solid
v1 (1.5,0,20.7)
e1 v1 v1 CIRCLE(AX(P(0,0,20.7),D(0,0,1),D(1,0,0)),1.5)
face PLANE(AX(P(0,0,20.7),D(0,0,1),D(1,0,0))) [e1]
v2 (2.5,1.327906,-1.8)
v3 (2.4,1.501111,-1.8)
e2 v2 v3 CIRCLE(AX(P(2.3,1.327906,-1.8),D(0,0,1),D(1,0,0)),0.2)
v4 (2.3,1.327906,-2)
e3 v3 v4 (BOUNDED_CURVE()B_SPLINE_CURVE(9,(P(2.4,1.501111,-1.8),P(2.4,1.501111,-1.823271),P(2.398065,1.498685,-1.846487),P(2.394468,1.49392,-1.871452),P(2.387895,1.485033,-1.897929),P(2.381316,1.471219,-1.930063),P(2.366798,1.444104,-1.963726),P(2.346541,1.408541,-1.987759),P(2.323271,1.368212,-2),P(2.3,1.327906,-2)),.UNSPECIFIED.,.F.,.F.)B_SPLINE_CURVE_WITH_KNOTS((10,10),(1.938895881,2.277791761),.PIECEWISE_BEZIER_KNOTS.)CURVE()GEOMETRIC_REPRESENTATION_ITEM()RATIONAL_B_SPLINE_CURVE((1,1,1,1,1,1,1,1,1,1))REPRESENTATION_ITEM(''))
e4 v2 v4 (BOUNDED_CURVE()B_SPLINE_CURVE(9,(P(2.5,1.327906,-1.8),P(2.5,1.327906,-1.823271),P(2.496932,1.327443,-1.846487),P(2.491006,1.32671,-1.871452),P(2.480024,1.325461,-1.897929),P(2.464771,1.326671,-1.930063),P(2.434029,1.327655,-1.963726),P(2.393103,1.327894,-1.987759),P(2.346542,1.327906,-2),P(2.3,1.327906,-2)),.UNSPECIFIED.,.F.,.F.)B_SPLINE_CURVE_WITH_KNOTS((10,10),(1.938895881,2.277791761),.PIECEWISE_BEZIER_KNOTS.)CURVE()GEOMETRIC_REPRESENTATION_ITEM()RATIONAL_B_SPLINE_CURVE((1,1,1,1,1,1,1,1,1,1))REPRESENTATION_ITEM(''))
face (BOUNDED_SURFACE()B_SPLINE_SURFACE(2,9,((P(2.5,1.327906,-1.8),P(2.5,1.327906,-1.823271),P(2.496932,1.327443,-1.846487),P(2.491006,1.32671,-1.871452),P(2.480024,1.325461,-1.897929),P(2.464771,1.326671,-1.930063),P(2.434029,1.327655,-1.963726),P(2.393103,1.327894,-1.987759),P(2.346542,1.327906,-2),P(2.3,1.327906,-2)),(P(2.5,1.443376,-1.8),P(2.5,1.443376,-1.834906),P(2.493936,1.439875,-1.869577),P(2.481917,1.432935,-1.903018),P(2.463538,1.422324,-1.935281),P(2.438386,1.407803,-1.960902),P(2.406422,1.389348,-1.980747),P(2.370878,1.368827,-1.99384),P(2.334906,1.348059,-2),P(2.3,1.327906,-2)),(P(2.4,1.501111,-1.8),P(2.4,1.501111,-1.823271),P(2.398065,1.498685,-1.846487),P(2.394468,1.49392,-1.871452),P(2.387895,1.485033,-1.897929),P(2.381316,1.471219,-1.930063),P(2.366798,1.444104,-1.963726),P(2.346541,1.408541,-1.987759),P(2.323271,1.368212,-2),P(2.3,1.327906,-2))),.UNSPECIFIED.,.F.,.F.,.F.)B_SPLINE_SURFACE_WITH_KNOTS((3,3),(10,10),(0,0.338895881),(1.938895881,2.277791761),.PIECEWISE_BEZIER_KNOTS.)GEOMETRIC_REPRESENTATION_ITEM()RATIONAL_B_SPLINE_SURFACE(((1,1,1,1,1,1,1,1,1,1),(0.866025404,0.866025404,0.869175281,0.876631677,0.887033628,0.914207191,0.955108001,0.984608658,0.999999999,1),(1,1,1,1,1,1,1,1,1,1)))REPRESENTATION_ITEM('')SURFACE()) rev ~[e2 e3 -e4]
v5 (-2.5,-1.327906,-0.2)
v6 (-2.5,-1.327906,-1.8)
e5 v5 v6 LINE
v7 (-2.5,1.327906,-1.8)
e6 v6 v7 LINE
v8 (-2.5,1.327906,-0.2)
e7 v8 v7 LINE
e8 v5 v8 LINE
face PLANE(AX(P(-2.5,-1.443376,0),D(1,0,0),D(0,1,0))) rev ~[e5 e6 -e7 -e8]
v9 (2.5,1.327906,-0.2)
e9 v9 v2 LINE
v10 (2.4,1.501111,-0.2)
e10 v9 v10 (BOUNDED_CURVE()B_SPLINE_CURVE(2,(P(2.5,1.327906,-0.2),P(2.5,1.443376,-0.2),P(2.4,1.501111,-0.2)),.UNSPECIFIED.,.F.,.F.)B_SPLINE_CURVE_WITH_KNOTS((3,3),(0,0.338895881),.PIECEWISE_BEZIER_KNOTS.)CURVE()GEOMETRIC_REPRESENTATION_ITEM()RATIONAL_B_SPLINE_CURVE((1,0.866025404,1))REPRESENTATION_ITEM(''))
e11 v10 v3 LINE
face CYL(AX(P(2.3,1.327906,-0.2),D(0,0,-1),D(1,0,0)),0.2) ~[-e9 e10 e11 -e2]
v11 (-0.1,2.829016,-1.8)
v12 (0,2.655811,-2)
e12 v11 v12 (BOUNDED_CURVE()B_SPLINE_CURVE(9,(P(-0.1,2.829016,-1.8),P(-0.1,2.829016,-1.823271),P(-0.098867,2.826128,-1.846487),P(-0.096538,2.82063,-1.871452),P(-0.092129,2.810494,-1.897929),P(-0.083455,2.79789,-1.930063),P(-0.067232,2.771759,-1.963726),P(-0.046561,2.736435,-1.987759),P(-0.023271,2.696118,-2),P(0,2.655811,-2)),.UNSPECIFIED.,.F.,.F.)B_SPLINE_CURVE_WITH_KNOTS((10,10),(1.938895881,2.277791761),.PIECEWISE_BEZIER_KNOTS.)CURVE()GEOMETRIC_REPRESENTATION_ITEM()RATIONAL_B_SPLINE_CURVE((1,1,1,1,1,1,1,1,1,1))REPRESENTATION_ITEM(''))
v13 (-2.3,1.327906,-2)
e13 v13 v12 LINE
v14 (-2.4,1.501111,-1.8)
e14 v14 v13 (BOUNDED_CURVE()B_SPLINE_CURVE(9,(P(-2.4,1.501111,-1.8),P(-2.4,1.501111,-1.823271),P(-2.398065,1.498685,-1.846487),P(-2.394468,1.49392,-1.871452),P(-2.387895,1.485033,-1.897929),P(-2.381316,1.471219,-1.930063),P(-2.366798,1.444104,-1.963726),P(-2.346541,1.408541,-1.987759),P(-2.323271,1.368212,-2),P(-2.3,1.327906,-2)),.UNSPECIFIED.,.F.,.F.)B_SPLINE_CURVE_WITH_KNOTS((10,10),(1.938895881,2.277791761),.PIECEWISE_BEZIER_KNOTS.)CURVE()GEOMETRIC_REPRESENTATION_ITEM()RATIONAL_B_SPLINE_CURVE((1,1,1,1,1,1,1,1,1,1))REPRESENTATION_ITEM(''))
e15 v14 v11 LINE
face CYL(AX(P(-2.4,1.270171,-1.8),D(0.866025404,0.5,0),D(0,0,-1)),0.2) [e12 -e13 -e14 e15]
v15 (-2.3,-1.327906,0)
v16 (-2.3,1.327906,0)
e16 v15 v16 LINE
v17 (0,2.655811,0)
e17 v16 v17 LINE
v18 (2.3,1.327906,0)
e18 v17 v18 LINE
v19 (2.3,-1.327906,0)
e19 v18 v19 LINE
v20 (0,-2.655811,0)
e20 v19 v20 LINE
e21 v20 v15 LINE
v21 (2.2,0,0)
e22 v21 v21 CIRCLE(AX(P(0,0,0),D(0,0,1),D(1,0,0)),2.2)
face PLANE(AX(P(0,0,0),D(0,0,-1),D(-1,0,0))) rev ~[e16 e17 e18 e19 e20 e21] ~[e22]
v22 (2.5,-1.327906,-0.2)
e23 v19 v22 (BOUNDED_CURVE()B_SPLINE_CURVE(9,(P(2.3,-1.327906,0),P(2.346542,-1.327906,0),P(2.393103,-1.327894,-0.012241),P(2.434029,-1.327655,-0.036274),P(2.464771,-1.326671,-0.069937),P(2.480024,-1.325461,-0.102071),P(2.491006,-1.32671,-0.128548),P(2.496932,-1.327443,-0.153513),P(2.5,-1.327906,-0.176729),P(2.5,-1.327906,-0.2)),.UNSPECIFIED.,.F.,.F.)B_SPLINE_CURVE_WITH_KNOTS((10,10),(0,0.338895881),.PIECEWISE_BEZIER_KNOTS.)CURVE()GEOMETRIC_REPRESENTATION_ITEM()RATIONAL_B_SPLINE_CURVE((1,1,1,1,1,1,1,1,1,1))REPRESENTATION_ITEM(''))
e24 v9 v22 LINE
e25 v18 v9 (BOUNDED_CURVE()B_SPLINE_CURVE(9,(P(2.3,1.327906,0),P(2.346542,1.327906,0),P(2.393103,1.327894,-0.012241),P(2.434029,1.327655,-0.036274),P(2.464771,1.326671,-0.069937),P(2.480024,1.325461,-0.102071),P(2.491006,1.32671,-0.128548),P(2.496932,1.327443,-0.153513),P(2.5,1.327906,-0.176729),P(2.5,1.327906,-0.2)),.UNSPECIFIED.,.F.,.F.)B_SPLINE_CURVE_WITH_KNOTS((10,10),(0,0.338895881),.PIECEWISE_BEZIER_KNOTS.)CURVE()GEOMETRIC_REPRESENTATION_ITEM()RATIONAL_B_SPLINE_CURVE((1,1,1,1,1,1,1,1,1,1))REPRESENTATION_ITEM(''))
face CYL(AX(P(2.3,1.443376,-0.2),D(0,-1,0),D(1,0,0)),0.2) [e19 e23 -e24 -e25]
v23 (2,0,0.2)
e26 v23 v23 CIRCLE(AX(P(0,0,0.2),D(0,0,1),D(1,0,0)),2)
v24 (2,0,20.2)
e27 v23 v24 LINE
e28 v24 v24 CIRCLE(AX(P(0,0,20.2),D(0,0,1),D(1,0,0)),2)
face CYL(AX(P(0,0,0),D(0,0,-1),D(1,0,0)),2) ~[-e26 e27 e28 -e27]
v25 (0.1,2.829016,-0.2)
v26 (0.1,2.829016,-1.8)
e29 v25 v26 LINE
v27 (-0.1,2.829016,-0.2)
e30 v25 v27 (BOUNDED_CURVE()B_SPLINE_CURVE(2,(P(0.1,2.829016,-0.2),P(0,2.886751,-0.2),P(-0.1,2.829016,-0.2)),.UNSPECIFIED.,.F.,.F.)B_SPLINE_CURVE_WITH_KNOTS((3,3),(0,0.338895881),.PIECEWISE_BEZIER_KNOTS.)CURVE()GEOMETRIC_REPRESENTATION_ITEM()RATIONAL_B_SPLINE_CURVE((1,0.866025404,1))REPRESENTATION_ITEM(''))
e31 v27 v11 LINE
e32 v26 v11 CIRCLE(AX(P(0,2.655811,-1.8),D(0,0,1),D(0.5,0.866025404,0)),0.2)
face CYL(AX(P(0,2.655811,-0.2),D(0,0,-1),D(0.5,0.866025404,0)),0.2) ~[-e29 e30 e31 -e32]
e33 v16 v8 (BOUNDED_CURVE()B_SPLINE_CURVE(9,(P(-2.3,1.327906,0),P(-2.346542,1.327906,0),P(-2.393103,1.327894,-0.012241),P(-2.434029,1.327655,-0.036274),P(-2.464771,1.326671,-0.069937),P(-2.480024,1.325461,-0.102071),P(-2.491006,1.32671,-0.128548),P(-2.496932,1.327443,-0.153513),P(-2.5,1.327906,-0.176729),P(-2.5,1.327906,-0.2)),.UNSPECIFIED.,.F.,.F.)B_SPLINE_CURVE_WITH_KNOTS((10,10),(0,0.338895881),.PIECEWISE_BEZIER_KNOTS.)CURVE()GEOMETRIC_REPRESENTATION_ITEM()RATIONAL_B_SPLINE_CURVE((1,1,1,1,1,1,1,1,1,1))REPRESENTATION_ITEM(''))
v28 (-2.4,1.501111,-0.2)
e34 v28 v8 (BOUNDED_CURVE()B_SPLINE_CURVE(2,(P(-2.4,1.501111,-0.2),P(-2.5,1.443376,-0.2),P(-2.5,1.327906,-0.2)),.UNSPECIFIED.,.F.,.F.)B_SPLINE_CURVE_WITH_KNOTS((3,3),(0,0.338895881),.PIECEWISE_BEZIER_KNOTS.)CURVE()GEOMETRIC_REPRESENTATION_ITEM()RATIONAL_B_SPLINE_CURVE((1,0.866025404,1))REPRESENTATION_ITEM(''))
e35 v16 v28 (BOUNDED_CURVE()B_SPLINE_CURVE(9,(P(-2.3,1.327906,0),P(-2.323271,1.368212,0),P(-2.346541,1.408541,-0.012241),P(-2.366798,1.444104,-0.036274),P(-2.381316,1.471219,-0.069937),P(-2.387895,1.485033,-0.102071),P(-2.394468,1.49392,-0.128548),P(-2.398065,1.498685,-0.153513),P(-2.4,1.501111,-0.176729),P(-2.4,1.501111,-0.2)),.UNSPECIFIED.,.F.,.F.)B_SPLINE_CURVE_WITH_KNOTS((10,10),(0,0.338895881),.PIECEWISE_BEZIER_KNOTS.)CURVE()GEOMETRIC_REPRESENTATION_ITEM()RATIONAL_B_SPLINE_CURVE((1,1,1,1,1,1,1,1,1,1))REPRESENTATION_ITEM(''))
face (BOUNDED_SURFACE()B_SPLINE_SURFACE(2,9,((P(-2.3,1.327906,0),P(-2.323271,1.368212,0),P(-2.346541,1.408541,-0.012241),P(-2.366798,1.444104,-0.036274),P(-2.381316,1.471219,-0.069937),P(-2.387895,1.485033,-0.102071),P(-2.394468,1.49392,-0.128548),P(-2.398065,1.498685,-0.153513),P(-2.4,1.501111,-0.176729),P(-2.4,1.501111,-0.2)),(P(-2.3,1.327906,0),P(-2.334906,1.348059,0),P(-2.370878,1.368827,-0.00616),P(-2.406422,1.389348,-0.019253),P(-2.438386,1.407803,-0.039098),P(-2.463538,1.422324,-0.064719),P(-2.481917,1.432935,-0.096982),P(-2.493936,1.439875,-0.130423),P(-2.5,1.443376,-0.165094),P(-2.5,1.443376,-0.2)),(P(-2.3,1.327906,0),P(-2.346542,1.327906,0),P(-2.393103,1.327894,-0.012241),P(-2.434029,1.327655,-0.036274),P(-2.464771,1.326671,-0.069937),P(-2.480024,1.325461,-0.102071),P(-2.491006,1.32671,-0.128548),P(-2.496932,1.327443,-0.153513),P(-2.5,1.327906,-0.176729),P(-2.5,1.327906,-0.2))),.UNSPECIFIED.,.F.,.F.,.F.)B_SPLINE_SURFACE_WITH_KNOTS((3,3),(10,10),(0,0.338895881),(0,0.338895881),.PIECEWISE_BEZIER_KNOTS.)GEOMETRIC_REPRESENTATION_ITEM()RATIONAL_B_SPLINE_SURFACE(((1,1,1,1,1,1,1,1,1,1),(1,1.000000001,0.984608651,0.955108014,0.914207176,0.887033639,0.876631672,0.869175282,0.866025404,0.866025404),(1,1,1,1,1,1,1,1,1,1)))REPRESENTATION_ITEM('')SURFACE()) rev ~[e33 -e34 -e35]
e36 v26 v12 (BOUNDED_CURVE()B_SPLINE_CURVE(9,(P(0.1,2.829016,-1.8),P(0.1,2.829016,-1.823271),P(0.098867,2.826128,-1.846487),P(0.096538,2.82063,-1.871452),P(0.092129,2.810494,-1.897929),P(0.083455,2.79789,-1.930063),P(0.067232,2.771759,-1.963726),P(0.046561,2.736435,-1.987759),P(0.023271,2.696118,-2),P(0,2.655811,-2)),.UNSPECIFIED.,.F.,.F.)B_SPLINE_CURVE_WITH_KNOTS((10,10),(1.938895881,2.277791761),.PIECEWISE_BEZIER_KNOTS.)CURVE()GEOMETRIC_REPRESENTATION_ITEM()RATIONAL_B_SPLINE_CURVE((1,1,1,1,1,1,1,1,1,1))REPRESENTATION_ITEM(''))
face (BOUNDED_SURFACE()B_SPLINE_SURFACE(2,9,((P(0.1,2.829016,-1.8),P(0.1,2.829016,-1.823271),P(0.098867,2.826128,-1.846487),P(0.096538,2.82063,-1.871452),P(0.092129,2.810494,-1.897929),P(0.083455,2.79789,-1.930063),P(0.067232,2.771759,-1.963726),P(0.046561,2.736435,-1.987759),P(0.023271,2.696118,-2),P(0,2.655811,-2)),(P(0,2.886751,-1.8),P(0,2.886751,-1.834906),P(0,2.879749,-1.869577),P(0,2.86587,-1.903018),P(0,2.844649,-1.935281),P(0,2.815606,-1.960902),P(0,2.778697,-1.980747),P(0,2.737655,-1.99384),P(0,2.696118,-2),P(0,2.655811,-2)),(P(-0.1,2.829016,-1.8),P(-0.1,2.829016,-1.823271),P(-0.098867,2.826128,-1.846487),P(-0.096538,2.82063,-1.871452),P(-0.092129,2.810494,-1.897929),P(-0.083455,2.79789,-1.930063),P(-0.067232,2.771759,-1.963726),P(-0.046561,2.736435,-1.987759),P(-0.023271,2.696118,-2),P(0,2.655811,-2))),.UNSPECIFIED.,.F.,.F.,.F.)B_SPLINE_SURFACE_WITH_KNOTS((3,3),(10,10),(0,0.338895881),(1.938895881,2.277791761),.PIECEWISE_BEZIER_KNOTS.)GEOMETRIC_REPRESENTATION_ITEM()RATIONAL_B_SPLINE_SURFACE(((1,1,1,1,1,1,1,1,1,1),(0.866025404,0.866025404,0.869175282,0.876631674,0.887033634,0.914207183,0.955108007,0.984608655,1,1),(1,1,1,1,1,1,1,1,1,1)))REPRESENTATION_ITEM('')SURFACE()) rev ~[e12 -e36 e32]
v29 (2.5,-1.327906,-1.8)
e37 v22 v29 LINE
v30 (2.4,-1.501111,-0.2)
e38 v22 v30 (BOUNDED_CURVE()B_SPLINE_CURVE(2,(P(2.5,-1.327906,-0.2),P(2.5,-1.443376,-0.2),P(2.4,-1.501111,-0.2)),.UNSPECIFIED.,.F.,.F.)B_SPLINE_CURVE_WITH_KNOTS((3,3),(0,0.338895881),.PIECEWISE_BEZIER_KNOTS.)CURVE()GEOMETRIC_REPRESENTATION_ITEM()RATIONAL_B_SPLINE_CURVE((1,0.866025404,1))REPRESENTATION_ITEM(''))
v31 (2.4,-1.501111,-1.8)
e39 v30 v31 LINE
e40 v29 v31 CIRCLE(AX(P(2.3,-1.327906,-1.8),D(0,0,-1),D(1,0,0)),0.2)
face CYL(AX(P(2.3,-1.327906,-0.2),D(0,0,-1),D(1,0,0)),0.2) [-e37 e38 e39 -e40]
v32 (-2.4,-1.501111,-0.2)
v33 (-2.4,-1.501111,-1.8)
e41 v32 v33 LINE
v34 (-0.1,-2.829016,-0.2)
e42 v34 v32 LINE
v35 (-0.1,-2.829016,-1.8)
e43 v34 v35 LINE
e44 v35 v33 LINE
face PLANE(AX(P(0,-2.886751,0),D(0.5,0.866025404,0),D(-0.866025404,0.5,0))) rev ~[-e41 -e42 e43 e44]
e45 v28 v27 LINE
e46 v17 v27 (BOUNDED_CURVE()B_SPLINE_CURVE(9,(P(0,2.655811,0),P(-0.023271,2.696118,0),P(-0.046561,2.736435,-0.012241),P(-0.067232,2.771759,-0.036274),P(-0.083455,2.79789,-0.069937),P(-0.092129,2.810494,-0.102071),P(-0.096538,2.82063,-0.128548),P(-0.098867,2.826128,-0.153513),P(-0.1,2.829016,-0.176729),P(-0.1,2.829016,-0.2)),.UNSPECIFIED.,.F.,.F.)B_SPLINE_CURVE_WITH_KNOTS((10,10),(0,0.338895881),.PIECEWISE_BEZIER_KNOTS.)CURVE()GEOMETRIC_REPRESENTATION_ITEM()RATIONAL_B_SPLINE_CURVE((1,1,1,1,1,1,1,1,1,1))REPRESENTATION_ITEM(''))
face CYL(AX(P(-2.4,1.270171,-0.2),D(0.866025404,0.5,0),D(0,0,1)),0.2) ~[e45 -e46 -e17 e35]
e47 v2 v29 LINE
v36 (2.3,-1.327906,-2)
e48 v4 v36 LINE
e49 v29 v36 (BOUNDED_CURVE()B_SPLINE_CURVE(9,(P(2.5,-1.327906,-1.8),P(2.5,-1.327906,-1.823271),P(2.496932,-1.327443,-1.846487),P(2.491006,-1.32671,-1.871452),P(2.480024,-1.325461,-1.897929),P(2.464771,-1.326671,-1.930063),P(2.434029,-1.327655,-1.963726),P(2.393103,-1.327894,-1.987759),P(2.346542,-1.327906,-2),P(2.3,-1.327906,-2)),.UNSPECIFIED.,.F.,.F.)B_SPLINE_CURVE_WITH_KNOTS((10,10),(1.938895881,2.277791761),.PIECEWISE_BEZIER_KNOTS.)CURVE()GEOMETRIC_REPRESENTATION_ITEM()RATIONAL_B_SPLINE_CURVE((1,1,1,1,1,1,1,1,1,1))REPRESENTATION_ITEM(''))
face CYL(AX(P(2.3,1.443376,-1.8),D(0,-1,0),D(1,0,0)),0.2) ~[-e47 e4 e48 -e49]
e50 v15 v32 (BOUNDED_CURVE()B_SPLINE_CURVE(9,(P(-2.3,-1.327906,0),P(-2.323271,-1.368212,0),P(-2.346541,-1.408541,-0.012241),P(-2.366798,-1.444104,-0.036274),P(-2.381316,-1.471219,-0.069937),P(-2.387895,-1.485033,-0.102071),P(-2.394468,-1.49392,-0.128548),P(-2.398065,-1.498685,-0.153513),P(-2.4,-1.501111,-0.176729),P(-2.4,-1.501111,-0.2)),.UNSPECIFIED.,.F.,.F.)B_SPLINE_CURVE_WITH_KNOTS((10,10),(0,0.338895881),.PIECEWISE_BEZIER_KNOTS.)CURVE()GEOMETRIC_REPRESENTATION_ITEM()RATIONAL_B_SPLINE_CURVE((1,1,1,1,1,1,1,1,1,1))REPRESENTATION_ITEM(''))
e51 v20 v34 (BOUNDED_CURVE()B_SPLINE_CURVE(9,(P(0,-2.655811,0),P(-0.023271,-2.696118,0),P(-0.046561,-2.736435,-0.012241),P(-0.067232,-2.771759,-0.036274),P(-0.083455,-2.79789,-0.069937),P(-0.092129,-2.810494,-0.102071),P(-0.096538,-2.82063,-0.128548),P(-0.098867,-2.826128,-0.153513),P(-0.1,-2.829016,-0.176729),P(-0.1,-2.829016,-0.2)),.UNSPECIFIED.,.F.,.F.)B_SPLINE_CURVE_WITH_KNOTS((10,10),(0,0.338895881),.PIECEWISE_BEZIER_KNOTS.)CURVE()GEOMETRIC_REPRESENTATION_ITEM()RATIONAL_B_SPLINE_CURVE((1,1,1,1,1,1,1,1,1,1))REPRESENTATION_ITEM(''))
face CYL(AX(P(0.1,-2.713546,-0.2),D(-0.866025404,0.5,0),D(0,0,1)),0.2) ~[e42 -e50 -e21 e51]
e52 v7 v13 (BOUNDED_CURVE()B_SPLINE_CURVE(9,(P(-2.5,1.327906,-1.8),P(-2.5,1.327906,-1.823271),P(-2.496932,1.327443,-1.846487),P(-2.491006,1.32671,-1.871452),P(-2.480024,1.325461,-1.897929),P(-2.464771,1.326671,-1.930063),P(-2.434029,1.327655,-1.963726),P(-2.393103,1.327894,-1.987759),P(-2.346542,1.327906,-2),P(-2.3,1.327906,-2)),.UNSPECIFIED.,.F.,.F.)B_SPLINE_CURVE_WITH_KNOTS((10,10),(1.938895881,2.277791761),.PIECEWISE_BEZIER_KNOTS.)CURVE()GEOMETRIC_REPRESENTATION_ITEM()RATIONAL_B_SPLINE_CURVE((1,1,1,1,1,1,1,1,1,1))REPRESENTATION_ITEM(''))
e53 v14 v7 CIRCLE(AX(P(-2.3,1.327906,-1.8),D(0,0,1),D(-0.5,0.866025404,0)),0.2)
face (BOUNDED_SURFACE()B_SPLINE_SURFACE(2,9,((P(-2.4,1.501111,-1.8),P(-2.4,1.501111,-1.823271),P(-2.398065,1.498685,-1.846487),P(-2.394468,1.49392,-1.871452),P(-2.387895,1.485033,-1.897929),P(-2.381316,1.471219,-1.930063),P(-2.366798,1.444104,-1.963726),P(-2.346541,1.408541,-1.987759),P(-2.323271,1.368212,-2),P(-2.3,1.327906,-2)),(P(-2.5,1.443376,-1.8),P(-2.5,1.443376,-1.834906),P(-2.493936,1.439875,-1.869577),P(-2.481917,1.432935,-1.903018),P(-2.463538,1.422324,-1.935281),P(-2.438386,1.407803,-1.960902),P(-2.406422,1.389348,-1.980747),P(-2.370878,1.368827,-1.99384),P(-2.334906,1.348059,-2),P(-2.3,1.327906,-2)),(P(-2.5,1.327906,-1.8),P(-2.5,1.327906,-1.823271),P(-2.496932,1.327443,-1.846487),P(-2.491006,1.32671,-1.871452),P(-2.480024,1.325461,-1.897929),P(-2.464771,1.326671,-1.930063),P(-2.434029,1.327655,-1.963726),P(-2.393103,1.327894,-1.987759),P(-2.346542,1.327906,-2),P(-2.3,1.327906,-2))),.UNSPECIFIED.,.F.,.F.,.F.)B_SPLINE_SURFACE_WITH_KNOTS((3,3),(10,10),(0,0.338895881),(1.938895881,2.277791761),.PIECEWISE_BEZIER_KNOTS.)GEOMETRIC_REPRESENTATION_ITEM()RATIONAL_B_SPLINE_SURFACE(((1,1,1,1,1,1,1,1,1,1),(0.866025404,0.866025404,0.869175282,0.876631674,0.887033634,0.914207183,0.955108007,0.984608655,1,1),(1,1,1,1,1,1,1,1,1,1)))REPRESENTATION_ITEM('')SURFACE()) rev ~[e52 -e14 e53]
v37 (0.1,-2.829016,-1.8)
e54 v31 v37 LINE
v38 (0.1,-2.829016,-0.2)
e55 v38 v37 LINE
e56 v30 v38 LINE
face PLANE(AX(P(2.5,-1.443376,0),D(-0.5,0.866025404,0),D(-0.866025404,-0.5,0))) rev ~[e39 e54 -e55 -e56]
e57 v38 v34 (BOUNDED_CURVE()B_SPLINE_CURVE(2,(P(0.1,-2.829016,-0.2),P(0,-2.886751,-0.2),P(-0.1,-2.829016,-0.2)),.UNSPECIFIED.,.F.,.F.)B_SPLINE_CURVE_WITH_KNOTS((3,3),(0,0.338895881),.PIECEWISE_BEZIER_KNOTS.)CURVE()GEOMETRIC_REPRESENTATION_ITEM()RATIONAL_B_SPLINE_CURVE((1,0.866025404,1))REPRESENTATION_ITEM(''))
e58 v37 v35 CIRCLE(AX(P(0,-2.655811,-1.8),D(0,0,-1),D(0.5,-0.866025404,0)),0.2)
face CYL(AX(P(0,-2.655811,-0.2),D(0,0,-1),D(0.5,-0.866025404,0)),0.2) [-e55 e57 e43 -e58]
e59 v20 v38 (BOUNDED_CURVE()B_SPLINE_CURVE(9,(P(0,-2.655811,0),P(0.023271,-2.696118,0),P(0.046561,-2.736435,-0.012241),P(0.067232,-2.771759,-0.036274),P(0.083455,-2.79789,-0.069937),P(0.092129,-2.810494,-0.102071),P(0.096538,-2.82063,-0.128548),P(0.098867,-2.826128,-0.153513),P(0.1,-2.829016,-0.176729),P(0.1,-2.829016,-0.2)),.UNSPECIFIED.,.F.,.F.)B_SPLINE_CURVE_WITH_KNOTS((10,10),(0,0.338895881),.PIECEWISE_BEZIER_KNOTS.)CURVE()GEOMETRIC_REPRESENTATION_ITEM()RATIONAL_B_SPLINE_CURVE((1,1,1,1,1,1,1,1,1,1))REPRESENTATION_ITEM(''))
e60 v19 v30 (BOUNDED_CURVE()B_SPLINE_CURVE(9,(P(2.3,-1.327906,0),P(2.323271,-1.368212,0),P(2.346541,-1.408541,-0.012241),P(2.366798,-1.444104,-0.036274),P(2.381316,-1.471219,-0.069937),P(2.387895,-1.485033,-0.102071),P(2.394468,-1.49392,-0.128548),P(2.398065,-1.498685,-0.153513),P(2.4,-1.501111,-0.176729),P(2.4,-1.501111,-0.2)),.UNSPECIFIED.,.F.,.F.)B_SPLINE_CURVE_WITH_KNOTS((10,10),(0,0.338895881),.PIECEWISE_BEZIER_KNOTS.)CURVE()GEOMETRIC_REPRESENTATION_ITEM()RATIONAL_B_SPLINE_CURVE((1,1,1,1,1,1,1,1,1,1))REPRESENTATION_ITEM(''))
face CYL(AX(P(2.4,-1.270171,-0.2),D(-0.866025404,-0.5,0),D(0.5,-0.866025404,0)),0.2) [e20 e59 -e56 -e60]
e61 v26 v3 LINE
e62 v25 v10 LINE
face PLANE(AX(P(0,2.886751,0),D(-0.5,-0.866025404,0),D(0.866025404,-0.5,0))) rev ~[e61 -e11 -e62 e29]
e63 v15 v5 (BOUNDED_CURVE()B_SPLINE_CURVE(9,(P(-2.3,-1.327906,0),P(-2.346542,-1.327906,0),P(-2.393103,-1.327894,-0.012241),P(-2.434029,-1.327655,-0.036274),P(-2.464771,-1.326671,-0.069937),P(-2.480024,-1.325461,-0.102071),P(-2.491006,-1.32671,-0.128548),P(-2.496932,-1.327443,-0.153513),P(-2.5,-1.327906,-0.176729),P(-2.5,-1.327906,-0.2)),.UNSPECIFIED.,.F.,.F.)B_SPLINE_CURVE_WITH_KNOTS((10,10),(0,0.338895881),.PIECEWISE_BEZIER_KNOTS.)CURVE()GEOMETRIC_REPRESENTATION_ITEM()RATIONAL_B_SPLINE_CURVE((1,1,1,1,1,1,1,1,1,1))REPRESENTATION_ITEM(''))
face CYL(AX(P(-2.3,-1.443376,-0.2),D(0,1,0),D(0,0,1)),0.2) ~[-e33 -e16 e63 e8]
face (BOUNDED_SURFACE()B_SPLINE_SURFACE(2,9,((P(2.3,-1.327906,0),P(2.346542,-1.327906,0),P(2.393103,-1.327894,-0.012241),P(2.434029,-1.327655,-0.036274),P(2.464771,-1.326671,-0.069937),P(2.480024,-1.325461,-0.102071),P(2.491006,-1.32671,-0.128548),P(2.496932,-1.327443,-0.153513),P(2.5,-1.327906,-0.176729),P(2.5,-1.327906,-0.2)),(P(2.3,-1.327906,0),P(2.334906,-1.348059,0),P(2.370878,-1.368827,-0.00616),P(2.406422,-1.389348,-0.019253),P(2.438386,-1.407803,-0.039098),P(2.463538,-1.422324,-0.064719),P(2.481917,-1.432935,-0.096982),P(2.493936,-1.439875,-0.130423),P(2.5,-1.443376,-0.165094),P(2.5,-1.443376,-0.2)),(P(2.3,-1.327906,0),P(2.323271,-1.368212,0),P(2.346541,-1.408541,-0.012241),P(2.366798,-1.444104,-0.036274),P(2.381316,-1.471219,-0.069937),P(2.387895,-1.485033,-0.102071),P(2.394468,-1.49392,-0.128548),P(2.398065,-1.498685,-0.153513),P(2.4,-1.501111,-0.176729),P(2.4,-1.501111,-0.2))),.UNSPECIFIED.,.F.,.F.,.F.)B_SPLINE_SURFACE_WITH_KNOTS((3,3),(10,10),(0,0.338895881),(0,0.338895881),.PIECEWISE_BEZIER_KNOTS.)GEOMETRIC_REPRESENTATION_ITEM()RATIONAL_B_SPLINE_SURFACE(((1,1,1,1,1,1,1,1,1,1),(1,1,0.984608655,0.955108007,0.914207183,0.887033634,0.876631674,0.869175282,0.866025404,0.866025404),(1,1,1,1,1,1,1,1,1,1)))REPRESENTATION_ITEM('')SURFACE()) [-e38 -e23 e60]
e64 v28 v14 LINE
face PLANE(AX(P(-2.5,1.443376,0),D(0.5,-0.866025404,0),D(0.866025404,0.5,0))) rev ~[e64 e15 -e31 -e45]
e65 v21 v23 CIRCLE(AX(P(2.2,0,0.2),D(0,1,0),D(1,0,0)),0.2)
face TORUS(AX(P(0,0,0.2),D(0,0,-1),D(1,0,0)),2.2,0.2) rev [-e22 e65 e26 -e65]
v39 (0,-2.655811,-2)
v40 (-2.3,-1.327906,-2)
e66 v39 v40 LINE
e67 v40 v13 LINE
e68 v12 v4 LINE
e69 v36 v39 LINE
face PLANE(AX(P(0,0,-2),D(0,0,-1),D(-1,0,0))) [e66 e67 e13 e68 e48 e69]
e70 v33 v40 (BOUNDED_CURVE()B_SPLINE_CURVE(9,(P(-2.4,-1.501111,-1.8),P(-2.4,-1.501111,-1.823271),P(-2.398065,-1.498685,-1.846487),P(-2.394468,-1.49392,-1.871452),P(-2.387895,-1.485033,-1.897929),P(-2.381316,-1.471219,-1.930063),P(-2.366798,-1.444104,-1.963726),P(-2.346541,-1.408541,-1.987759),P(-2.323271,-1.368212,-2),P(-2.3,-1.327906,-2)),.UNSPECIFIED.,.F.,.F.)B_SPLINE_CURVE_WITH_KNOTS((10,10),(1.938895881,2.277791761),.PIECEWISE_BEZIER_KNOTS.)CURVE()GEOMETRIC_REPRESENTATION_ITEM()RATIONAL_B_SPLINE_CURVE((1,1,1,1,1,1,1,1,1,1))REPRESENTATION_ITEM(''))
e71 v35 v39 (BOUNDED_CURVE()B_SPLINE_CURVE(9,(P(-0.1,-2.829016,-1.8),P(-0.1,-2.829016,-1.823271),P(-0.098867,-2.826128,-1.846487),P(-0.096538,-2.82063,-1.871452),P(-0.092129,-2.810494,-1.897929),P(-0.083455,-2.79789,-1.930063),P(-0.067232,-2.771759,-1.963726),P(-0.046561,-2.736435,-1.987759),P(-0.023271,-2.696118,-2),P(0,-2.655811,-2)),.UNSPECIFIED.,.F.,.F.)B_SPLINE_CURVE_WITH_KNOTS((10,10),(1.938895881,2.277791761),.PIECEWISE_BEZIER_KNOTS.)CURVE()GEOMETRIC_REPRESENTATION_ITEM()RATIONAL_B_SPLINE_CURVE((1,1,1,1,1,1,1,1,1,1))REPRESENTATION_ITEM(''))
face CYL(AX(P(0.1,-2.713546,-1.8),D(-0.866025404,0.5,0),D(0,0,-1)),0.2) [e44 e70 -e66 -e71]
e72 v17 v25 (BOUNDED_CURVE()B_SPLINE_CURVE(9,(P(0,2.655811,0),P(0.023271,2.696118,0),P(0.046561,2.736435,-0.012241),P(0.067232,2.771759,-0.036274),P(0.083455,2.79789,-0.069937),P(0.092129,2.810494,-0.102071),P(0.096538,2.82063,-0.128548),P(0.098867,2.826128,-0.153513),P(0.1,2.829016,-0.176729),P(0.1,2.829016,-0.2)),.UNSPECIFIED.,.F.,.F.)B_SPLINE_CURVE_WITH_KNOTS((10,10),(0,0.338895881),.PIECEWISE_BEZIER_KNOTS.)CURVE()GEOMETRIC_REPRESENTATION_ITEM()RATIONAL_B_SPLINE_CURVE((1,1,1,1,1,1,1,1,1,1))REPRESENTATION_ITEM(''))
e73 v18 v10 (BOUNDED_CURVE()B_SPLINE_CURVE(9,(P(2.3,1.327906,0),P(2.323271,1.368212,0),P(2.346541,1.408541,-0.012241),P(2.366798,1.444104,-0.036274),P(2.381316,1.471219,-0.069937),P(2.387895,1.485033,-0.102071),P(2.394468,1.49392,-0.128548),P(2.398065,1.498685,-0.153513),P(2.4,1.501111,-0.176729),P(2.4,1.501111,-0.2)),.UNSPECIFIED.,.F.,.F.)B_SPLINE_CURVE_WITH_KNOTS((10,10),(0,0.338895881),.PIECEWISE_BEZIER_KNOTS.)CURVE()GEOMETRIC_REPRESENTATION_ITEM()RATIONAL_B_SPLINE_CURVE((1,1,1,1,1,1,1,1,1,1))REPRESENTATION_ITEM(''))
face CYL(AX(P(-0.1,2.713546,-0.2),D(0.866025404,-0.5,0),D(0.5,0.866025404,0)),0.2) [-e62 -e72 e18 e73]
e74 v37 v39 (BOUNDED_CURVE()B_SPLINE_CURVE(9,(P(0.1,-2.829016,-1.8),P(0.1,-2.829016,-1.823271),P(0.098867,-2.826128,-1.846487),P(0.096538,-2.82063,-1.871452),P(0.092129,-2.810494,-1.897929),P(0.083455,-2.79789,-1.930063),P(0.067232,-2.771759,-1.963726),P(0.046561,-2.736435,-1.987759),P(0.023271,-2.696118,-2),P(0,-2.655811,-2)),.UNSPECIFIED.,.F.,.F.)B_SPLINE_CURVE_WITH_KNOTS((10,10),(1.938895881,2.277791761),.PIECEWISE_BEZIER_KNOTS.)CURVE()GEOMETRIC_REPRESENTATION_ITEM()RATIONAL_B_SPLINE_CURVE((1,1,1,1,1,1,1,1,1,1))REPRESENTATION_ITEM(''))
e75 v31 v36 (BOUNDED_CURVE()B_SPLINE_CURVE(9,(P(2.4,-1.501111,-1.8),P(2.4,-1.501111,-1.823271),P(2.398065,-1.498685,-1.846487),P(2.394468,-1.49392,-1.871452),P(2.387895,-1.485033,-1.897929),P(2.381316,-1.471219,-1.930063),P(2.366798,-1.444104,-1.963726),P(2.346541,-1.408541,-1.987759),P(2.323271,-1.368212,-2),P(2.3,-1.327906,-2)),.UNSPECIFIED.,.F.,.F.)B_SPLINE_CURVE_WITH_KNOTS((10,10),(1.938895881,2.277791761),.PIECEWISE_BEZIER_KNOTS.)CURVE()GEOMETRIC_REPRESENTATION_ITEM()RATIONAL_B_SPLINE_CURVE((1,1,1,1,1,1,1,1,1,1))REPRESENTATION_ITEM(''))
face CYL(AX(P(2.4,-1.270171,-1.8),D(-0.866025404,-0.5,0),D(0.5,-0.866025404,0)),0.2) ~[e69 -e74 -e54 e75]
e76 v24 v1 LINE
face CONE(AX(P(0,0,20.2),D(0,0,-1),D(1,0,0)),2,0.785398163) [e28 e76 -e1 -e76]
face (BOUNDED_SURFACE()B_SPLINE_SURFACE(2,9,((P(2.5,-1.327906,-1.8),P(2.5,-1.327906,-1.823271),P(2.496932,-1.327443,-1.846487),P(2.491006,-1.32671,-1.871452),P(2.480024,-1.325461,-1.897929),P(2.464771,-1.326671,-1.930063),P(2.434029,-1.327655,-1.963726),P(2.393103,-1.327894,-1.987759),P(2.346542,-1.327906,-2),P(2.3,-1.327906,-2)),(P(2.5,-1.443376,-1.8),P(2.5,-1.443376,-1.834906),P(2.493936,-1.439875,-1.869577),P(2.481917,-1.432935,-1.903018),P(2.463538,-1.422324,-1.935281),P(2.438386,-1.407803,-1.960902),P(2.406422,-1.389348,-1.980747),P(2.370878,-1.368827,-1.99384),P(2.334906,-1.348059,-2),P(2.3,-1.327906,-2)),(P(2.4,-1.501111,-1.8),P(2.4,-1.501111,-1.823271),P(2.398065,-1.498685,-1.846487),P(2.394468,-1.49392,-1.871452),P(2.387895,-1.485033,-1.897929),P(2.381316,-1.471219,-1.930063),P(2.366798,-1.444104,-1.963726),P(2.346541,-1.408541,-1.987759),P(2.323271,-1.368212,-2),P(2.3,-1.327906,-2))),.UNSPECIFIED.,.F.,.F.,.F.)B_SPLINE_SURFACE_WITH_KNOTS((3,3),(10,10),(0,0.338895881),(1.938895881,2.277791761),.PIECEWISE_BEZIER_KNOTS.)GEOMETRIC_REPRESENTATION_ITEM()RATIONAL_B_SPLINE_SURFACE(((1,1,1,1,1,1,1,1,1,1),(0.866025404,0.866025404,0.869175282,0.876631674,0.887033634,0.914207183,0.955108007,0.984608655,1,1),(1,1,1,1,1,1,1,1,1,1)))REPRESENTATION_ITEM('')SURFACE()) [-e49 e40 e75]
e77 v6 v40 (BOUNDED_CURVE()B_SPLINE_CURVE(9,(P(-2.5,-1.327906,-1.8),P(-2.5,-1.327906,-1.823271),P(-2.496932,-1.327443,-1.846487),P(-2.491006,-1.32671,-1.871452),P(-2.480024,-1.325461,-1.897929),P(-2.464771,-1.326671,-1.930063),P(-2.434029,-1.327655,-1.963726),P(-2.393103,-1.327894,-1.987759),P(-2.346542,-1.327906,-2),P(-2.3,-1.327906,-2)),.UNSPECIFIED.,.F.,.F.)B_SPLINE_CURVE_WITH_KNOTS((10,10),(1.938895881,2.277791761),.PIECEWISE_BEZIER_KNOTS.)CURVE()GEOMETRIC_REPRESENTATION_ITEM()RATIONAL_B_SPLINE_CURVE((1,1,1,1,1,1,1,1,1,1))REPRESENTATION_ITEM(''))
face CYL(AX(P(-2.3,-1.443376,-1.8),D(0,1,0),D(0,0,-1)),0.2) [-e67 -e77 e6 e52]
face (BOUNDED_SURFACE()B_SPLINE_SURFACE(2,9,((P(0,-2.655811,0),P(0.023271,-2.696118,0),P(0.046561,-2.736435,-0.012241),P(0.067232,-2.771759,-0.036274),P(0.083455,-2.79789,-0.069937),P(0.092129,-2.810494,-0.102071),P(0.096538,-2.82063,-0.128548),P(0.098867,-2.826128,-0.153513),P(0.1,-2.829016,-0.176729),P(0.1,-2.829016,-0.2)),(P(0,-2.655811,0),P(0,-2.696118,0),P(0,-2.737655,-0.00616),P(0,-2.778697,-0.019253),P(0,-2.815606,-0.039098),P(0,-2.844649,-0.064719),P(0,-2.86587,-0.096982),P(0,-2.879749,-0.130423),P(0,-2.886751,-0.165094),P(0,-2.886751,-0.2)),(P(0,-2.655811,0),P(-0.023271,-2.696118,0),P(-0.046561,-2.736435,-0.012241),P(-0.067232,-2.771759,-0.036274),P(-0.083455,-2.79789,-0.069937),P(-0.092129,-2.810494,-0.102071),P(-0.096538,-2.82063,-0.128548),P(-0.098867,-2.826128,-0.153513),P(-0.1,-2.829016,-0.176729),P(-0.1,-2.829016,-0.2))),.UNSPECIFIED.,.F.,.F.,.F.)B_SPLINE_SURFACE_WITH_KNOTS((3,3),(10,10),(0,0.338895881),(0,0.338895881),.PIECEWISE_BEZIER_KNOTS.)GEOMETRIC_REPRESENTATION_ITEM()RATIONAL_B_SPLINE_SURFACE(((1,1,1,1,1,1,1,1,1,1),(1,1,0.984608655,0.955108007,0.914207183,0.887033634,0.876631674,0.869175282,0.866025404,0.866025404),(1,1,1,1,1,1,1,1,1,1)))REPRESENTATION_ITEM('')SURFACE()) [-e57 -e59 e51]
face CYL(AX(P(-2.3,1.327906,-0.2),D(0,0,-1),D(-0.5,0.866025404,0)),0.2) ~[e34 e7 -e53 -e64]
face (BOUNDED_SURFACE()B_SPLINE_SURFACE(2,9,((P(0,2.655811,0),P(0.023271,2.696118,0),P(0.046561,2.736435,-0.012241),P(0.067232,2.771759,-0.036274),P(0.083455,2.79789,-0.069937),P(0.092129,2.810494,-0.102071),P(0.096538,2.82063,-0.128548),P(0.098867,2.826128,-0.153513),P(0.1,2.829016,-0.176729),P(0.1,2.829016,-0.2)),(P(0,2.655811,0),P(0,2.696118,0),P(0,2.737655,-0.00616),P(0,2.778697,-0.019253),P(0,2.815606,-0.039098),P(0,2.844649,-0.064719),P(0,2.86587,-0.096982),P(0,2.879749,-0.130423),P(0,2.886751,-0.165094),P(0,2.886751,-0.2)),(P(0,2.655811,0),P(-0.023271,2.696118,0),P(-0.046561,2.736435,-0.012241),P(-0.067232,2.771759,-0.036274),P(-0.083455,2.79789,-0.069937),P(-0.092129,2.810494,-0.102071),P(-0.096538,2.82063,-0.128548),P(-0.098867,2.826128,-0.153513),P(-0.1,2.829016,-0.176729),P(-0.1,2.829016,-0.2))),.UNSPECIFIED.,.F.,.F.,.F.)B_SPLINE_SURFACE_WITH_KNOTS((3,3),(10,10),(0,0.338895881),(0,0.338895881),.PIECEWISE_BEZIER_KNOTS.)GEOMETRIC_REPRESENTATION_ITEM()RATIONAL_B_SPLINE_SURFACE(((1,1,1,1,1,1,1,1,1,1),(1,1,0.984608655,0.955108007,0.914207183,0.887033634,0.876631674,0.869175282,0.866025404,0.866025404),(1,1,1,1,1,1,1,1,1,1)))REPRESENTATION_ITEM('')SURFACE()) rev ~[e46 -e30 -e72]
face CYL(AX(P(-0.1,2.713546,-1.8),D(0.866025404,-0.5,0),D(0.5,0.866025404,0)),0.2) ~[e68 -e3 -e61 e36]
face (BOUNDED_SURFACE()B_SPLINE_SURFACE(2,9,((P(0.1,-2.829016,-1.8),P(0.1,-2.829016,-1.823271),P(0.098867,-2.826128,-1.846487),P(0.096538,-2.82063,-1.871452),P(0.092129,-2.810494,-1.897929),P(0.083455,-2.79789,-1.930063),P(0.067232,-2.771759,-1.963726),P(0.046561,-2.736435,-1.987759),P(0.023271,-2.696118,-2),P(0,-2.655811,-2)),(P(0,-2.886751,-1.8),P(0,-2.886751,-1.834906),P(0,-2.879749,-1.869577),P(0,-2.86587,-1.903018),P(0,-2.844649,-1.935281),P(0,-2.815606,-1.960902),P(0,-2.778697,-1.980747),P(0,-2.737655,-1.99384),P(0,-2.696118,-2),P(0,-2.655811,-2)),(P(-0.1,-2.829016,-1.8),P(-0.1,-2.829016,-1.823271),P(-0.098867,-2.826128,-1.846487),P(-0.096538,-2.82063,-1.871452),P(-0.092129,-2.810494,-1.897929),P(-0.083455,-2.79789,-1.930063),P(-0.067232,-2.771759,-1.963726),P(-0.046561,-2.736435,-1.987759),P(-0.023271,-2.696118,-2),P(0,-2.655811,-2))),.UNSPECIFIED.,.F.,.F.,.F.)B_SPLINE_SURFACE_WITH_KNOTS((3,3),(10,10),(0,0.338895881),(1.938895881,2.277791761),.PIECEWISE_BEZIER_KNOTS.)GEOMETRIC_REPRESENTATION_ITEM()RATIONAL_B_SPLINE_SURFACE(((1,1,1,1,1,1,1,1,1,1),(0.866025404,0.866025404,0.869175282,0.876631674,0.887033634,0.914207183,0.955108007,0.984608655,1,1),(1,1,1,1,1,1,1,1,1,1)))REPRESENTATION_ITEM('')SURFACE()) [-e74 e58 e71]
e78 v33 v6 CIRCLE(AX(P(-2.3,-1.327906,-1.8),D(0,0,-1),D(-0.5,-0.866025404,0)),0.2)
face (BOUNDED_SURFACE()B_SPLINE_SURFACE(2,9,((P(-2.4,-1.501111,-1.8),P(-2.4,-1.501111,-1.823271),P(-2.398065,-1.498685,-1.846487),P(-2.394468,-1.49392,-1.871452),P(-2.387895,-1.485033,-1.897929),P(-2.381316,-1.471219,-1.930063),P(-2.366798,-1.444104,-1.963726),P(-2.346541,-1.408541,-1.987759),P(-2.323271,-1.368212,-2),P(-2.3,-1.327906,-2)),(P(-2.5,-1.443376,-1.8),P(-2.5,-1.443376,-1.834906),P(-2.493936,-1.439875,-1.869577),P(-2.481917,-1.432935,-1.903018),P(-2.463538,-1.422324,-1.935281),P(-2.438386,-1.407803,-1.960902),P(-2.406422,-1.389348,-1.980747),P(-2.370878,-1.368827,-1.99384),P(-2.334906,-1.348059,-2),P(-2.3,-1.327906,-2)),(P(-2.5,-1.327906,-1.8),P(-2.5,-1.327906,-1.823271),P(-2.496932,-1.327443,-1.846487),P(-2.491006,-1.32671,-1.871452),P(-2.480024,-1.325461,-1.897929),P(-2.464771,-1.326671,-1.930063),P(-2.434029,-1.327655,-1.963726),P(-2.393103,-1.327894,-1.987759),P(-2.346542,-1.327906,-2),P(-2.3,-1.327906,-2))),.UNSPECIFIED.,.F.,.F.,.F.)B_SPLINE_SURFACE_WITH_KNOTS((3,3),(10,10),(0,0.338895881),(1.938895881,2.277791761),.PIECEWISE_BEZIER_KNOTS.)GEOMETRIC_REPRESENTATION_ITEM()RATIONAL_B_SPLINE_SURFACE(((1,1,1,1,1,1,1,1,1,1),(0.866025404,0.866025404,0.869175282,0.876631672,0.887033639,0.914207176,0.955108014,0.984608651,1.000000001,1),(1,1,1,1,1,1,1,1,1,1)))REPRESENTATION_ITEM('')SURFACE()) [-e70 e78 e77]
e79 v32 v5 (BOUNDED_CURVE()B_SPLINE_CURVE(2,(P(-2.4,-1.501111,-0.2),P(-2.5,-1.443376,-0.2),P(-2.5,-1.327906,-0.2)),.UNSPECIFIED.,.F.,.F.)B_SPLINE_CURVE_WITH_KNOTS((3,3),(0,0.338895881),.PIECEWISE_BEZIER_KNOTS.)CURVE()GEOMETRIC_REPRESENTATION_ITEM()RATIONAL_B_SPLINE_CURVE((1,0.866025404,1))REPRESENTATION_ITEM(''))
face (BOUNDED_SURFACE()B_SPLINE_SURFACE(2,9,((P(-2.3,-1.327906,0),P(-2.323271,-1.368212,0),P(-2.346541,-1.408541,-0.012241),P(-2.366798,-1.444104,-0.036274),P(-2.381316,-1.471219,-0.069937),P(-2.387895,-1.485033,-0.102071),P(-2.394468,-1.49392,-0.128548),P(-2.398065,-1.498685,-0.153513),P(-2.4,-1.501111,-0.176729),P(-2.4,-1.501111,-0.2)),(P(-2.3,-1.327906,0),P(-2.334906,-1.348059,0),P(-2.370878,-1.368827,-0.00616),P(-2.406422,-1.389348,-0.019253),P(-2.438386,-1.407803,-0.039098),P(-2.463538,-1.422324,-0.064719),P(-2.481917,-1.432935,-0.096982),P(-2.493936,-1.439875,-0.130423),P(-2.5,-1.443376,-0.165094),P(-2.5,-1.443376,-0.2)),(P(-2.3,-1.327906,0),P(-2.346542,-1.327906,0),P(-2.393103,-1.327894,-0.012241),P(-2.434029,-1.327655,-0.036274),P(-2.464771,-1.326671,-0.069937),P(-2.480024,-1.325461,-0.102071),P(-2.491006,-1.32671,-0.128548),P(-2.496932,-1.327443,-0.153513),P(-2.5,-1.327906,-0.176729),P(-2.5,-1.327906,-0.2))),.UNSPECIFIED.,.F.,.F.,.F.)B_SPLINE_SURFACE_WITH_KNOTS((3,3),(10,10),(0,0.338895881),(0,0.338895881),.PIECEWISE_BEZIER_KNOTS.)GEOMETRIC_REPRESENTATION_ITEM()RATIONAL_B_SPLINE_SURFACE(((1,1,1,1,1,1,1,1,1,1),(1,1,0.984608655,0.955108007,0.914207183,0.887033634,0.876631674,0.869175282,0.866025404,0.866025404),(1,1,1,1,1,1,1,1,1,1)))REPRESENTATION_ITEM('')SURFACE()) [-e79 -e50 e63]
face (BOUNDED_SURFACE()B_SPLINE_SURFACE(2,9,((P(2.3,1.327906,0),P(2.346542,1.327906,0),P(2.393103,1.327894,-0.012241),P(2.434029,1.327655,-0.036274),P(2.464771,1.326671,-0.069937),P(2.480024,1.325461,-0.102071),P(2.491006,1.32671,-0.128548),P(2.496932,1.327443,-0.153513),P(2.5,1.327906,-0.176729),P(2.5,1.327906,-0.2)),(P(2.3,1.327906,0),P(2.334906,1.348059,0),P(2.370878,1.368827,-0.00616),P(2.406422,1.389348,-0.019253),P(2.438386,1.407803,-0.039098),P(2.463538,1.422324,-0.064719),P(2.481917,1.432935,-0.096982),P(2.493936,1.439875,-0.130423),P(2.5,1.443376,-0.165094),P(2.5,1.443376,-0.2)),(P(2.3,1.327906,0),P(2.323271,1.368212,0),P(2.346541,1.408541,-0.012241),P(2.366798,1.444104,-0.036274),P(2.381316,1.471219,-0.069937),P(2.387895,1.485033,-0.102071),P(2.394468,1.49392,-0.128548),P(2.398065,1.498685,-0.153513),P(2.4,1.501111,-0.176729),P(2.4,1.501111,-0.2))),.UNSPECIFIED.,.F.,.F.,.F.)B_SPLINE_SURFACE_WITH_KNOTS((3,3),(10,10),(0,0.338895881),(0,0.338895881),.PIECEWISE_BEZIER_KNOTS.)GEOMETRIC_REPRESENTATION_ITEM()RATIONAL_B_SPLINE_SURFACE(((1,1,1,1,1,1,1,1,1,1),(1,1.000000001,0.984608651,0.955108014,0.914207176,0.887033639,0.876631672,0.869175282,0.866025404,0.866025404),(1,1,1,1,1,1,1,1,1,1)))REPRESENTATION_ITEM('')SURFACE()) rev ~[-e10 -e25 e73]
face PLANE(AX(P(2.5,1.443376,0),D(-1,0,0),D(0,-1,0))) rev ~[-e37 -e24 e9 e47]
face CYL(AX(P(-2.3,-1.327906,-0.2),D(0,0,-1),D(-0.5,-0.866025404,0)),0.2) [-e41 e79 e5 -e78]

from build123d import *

# Parameters (mm, degrees)
SKETCH1_R           = 2
BOSS_EXTRUDE1_DEPTH = 20.7
BOSS_EXTRUDE2_DEPTH = 2
FILLET1_R           = 0.2
FILLET2_R           = 0.2
CHAMFER1_SIZE       = 0.5


with BuildPart() as part:
    # Sketch1 → Boss-Extrude1 (new body)
    with BuildSketch(Plane.XY):
        Circle(SKETCH1_R)
    extrude(amount=BOSS_EXTRUDE1_DEPTH)

    # Sketch2 → Boss-Extrude2 (add)
    with BuildSketch(Plane(origin=(0, 0, 0), x_dir=(-1, 0, 0), z_dir=(0, 0, -1))):
        Polygon((-2.5, 1.443375673), (-2.5, -1.443375673), (0, -2.886751346), (2.5, -1.443375673), (2.5, 1.443375673), (0, 2.886751346), align=None)
    extrude(amount=BOSS_EXTRUDE2_DEPTH)

    # Fillet1
    fillet1_edges = [part.edges().sort_by_distance(p)[0] for p in [
        (-2, 0, 0),
        (1.25, 2.165063509, 0),
        (2.5, 0, 0),
        (1.25, -2.165063509, 0),
        (-1.25, -2.165063509, 0),
        (-2.5, 0, 0),
        (-1.25, 2.165063509, 0),
        (1.25, 2.165063509, -2),
        (2.5, 0, -2),
        (1.25, -2.165063509, -2),
        (-1.25, -2.165063509, -2),
        (-2.5, 0, -2),
        (-1.25, 2.165063509, -2),
    ]]
    fillet(fillet1_edges, radius=FILLET1_R)

    # Fillet2
    fillet2_edges = [part.edges().sort_by_distance(p)[0] for p in [
        (0, 2.886751346, -1),
        (-2.5, 1.443375673, -1),
        (-2.5, -1.443375673, -1),
        (0, -2.886751346, -1),
        (2.5, -1.443375673, -1),
        (2.5, 1.443375673, -1),
        (0, -2.813180543, -1.94637683),
        (2.436285816, -1.406590271, -1.94637683),
        (-2.436285816, -1.406590271, -1.94637683),
        (2.436285816, 1.406590271, -1.94637683),
        (-2.436285816, 1.406590271, -1.94637683),
        (0, 2.813180543, -1.94637683),
        (-2.436285816, 1.406590271, -0.05362317),
        (-2.436285816, -1.406590271, -0.05362317),
        (0, 2.813180543, -0.05362317),
        (0, -2.813180543, -0.05362317),
        (2.436285816, 1.406590271, -0.05362317),
        (2.436285816, -1.406590271, -0.05362317),
    ]]
    fillet(fillet2_edges, radius=FILLET2_R)

    # Chamfer1
    chamfer1_edges = [part.edges().sort_by_distance(p)[0] for p in [
        (-2, 0, 20.7),
    ]]
    chamfer(chamfer1_edges, length=CHAMFER1_SIZE)


solid = part.part
